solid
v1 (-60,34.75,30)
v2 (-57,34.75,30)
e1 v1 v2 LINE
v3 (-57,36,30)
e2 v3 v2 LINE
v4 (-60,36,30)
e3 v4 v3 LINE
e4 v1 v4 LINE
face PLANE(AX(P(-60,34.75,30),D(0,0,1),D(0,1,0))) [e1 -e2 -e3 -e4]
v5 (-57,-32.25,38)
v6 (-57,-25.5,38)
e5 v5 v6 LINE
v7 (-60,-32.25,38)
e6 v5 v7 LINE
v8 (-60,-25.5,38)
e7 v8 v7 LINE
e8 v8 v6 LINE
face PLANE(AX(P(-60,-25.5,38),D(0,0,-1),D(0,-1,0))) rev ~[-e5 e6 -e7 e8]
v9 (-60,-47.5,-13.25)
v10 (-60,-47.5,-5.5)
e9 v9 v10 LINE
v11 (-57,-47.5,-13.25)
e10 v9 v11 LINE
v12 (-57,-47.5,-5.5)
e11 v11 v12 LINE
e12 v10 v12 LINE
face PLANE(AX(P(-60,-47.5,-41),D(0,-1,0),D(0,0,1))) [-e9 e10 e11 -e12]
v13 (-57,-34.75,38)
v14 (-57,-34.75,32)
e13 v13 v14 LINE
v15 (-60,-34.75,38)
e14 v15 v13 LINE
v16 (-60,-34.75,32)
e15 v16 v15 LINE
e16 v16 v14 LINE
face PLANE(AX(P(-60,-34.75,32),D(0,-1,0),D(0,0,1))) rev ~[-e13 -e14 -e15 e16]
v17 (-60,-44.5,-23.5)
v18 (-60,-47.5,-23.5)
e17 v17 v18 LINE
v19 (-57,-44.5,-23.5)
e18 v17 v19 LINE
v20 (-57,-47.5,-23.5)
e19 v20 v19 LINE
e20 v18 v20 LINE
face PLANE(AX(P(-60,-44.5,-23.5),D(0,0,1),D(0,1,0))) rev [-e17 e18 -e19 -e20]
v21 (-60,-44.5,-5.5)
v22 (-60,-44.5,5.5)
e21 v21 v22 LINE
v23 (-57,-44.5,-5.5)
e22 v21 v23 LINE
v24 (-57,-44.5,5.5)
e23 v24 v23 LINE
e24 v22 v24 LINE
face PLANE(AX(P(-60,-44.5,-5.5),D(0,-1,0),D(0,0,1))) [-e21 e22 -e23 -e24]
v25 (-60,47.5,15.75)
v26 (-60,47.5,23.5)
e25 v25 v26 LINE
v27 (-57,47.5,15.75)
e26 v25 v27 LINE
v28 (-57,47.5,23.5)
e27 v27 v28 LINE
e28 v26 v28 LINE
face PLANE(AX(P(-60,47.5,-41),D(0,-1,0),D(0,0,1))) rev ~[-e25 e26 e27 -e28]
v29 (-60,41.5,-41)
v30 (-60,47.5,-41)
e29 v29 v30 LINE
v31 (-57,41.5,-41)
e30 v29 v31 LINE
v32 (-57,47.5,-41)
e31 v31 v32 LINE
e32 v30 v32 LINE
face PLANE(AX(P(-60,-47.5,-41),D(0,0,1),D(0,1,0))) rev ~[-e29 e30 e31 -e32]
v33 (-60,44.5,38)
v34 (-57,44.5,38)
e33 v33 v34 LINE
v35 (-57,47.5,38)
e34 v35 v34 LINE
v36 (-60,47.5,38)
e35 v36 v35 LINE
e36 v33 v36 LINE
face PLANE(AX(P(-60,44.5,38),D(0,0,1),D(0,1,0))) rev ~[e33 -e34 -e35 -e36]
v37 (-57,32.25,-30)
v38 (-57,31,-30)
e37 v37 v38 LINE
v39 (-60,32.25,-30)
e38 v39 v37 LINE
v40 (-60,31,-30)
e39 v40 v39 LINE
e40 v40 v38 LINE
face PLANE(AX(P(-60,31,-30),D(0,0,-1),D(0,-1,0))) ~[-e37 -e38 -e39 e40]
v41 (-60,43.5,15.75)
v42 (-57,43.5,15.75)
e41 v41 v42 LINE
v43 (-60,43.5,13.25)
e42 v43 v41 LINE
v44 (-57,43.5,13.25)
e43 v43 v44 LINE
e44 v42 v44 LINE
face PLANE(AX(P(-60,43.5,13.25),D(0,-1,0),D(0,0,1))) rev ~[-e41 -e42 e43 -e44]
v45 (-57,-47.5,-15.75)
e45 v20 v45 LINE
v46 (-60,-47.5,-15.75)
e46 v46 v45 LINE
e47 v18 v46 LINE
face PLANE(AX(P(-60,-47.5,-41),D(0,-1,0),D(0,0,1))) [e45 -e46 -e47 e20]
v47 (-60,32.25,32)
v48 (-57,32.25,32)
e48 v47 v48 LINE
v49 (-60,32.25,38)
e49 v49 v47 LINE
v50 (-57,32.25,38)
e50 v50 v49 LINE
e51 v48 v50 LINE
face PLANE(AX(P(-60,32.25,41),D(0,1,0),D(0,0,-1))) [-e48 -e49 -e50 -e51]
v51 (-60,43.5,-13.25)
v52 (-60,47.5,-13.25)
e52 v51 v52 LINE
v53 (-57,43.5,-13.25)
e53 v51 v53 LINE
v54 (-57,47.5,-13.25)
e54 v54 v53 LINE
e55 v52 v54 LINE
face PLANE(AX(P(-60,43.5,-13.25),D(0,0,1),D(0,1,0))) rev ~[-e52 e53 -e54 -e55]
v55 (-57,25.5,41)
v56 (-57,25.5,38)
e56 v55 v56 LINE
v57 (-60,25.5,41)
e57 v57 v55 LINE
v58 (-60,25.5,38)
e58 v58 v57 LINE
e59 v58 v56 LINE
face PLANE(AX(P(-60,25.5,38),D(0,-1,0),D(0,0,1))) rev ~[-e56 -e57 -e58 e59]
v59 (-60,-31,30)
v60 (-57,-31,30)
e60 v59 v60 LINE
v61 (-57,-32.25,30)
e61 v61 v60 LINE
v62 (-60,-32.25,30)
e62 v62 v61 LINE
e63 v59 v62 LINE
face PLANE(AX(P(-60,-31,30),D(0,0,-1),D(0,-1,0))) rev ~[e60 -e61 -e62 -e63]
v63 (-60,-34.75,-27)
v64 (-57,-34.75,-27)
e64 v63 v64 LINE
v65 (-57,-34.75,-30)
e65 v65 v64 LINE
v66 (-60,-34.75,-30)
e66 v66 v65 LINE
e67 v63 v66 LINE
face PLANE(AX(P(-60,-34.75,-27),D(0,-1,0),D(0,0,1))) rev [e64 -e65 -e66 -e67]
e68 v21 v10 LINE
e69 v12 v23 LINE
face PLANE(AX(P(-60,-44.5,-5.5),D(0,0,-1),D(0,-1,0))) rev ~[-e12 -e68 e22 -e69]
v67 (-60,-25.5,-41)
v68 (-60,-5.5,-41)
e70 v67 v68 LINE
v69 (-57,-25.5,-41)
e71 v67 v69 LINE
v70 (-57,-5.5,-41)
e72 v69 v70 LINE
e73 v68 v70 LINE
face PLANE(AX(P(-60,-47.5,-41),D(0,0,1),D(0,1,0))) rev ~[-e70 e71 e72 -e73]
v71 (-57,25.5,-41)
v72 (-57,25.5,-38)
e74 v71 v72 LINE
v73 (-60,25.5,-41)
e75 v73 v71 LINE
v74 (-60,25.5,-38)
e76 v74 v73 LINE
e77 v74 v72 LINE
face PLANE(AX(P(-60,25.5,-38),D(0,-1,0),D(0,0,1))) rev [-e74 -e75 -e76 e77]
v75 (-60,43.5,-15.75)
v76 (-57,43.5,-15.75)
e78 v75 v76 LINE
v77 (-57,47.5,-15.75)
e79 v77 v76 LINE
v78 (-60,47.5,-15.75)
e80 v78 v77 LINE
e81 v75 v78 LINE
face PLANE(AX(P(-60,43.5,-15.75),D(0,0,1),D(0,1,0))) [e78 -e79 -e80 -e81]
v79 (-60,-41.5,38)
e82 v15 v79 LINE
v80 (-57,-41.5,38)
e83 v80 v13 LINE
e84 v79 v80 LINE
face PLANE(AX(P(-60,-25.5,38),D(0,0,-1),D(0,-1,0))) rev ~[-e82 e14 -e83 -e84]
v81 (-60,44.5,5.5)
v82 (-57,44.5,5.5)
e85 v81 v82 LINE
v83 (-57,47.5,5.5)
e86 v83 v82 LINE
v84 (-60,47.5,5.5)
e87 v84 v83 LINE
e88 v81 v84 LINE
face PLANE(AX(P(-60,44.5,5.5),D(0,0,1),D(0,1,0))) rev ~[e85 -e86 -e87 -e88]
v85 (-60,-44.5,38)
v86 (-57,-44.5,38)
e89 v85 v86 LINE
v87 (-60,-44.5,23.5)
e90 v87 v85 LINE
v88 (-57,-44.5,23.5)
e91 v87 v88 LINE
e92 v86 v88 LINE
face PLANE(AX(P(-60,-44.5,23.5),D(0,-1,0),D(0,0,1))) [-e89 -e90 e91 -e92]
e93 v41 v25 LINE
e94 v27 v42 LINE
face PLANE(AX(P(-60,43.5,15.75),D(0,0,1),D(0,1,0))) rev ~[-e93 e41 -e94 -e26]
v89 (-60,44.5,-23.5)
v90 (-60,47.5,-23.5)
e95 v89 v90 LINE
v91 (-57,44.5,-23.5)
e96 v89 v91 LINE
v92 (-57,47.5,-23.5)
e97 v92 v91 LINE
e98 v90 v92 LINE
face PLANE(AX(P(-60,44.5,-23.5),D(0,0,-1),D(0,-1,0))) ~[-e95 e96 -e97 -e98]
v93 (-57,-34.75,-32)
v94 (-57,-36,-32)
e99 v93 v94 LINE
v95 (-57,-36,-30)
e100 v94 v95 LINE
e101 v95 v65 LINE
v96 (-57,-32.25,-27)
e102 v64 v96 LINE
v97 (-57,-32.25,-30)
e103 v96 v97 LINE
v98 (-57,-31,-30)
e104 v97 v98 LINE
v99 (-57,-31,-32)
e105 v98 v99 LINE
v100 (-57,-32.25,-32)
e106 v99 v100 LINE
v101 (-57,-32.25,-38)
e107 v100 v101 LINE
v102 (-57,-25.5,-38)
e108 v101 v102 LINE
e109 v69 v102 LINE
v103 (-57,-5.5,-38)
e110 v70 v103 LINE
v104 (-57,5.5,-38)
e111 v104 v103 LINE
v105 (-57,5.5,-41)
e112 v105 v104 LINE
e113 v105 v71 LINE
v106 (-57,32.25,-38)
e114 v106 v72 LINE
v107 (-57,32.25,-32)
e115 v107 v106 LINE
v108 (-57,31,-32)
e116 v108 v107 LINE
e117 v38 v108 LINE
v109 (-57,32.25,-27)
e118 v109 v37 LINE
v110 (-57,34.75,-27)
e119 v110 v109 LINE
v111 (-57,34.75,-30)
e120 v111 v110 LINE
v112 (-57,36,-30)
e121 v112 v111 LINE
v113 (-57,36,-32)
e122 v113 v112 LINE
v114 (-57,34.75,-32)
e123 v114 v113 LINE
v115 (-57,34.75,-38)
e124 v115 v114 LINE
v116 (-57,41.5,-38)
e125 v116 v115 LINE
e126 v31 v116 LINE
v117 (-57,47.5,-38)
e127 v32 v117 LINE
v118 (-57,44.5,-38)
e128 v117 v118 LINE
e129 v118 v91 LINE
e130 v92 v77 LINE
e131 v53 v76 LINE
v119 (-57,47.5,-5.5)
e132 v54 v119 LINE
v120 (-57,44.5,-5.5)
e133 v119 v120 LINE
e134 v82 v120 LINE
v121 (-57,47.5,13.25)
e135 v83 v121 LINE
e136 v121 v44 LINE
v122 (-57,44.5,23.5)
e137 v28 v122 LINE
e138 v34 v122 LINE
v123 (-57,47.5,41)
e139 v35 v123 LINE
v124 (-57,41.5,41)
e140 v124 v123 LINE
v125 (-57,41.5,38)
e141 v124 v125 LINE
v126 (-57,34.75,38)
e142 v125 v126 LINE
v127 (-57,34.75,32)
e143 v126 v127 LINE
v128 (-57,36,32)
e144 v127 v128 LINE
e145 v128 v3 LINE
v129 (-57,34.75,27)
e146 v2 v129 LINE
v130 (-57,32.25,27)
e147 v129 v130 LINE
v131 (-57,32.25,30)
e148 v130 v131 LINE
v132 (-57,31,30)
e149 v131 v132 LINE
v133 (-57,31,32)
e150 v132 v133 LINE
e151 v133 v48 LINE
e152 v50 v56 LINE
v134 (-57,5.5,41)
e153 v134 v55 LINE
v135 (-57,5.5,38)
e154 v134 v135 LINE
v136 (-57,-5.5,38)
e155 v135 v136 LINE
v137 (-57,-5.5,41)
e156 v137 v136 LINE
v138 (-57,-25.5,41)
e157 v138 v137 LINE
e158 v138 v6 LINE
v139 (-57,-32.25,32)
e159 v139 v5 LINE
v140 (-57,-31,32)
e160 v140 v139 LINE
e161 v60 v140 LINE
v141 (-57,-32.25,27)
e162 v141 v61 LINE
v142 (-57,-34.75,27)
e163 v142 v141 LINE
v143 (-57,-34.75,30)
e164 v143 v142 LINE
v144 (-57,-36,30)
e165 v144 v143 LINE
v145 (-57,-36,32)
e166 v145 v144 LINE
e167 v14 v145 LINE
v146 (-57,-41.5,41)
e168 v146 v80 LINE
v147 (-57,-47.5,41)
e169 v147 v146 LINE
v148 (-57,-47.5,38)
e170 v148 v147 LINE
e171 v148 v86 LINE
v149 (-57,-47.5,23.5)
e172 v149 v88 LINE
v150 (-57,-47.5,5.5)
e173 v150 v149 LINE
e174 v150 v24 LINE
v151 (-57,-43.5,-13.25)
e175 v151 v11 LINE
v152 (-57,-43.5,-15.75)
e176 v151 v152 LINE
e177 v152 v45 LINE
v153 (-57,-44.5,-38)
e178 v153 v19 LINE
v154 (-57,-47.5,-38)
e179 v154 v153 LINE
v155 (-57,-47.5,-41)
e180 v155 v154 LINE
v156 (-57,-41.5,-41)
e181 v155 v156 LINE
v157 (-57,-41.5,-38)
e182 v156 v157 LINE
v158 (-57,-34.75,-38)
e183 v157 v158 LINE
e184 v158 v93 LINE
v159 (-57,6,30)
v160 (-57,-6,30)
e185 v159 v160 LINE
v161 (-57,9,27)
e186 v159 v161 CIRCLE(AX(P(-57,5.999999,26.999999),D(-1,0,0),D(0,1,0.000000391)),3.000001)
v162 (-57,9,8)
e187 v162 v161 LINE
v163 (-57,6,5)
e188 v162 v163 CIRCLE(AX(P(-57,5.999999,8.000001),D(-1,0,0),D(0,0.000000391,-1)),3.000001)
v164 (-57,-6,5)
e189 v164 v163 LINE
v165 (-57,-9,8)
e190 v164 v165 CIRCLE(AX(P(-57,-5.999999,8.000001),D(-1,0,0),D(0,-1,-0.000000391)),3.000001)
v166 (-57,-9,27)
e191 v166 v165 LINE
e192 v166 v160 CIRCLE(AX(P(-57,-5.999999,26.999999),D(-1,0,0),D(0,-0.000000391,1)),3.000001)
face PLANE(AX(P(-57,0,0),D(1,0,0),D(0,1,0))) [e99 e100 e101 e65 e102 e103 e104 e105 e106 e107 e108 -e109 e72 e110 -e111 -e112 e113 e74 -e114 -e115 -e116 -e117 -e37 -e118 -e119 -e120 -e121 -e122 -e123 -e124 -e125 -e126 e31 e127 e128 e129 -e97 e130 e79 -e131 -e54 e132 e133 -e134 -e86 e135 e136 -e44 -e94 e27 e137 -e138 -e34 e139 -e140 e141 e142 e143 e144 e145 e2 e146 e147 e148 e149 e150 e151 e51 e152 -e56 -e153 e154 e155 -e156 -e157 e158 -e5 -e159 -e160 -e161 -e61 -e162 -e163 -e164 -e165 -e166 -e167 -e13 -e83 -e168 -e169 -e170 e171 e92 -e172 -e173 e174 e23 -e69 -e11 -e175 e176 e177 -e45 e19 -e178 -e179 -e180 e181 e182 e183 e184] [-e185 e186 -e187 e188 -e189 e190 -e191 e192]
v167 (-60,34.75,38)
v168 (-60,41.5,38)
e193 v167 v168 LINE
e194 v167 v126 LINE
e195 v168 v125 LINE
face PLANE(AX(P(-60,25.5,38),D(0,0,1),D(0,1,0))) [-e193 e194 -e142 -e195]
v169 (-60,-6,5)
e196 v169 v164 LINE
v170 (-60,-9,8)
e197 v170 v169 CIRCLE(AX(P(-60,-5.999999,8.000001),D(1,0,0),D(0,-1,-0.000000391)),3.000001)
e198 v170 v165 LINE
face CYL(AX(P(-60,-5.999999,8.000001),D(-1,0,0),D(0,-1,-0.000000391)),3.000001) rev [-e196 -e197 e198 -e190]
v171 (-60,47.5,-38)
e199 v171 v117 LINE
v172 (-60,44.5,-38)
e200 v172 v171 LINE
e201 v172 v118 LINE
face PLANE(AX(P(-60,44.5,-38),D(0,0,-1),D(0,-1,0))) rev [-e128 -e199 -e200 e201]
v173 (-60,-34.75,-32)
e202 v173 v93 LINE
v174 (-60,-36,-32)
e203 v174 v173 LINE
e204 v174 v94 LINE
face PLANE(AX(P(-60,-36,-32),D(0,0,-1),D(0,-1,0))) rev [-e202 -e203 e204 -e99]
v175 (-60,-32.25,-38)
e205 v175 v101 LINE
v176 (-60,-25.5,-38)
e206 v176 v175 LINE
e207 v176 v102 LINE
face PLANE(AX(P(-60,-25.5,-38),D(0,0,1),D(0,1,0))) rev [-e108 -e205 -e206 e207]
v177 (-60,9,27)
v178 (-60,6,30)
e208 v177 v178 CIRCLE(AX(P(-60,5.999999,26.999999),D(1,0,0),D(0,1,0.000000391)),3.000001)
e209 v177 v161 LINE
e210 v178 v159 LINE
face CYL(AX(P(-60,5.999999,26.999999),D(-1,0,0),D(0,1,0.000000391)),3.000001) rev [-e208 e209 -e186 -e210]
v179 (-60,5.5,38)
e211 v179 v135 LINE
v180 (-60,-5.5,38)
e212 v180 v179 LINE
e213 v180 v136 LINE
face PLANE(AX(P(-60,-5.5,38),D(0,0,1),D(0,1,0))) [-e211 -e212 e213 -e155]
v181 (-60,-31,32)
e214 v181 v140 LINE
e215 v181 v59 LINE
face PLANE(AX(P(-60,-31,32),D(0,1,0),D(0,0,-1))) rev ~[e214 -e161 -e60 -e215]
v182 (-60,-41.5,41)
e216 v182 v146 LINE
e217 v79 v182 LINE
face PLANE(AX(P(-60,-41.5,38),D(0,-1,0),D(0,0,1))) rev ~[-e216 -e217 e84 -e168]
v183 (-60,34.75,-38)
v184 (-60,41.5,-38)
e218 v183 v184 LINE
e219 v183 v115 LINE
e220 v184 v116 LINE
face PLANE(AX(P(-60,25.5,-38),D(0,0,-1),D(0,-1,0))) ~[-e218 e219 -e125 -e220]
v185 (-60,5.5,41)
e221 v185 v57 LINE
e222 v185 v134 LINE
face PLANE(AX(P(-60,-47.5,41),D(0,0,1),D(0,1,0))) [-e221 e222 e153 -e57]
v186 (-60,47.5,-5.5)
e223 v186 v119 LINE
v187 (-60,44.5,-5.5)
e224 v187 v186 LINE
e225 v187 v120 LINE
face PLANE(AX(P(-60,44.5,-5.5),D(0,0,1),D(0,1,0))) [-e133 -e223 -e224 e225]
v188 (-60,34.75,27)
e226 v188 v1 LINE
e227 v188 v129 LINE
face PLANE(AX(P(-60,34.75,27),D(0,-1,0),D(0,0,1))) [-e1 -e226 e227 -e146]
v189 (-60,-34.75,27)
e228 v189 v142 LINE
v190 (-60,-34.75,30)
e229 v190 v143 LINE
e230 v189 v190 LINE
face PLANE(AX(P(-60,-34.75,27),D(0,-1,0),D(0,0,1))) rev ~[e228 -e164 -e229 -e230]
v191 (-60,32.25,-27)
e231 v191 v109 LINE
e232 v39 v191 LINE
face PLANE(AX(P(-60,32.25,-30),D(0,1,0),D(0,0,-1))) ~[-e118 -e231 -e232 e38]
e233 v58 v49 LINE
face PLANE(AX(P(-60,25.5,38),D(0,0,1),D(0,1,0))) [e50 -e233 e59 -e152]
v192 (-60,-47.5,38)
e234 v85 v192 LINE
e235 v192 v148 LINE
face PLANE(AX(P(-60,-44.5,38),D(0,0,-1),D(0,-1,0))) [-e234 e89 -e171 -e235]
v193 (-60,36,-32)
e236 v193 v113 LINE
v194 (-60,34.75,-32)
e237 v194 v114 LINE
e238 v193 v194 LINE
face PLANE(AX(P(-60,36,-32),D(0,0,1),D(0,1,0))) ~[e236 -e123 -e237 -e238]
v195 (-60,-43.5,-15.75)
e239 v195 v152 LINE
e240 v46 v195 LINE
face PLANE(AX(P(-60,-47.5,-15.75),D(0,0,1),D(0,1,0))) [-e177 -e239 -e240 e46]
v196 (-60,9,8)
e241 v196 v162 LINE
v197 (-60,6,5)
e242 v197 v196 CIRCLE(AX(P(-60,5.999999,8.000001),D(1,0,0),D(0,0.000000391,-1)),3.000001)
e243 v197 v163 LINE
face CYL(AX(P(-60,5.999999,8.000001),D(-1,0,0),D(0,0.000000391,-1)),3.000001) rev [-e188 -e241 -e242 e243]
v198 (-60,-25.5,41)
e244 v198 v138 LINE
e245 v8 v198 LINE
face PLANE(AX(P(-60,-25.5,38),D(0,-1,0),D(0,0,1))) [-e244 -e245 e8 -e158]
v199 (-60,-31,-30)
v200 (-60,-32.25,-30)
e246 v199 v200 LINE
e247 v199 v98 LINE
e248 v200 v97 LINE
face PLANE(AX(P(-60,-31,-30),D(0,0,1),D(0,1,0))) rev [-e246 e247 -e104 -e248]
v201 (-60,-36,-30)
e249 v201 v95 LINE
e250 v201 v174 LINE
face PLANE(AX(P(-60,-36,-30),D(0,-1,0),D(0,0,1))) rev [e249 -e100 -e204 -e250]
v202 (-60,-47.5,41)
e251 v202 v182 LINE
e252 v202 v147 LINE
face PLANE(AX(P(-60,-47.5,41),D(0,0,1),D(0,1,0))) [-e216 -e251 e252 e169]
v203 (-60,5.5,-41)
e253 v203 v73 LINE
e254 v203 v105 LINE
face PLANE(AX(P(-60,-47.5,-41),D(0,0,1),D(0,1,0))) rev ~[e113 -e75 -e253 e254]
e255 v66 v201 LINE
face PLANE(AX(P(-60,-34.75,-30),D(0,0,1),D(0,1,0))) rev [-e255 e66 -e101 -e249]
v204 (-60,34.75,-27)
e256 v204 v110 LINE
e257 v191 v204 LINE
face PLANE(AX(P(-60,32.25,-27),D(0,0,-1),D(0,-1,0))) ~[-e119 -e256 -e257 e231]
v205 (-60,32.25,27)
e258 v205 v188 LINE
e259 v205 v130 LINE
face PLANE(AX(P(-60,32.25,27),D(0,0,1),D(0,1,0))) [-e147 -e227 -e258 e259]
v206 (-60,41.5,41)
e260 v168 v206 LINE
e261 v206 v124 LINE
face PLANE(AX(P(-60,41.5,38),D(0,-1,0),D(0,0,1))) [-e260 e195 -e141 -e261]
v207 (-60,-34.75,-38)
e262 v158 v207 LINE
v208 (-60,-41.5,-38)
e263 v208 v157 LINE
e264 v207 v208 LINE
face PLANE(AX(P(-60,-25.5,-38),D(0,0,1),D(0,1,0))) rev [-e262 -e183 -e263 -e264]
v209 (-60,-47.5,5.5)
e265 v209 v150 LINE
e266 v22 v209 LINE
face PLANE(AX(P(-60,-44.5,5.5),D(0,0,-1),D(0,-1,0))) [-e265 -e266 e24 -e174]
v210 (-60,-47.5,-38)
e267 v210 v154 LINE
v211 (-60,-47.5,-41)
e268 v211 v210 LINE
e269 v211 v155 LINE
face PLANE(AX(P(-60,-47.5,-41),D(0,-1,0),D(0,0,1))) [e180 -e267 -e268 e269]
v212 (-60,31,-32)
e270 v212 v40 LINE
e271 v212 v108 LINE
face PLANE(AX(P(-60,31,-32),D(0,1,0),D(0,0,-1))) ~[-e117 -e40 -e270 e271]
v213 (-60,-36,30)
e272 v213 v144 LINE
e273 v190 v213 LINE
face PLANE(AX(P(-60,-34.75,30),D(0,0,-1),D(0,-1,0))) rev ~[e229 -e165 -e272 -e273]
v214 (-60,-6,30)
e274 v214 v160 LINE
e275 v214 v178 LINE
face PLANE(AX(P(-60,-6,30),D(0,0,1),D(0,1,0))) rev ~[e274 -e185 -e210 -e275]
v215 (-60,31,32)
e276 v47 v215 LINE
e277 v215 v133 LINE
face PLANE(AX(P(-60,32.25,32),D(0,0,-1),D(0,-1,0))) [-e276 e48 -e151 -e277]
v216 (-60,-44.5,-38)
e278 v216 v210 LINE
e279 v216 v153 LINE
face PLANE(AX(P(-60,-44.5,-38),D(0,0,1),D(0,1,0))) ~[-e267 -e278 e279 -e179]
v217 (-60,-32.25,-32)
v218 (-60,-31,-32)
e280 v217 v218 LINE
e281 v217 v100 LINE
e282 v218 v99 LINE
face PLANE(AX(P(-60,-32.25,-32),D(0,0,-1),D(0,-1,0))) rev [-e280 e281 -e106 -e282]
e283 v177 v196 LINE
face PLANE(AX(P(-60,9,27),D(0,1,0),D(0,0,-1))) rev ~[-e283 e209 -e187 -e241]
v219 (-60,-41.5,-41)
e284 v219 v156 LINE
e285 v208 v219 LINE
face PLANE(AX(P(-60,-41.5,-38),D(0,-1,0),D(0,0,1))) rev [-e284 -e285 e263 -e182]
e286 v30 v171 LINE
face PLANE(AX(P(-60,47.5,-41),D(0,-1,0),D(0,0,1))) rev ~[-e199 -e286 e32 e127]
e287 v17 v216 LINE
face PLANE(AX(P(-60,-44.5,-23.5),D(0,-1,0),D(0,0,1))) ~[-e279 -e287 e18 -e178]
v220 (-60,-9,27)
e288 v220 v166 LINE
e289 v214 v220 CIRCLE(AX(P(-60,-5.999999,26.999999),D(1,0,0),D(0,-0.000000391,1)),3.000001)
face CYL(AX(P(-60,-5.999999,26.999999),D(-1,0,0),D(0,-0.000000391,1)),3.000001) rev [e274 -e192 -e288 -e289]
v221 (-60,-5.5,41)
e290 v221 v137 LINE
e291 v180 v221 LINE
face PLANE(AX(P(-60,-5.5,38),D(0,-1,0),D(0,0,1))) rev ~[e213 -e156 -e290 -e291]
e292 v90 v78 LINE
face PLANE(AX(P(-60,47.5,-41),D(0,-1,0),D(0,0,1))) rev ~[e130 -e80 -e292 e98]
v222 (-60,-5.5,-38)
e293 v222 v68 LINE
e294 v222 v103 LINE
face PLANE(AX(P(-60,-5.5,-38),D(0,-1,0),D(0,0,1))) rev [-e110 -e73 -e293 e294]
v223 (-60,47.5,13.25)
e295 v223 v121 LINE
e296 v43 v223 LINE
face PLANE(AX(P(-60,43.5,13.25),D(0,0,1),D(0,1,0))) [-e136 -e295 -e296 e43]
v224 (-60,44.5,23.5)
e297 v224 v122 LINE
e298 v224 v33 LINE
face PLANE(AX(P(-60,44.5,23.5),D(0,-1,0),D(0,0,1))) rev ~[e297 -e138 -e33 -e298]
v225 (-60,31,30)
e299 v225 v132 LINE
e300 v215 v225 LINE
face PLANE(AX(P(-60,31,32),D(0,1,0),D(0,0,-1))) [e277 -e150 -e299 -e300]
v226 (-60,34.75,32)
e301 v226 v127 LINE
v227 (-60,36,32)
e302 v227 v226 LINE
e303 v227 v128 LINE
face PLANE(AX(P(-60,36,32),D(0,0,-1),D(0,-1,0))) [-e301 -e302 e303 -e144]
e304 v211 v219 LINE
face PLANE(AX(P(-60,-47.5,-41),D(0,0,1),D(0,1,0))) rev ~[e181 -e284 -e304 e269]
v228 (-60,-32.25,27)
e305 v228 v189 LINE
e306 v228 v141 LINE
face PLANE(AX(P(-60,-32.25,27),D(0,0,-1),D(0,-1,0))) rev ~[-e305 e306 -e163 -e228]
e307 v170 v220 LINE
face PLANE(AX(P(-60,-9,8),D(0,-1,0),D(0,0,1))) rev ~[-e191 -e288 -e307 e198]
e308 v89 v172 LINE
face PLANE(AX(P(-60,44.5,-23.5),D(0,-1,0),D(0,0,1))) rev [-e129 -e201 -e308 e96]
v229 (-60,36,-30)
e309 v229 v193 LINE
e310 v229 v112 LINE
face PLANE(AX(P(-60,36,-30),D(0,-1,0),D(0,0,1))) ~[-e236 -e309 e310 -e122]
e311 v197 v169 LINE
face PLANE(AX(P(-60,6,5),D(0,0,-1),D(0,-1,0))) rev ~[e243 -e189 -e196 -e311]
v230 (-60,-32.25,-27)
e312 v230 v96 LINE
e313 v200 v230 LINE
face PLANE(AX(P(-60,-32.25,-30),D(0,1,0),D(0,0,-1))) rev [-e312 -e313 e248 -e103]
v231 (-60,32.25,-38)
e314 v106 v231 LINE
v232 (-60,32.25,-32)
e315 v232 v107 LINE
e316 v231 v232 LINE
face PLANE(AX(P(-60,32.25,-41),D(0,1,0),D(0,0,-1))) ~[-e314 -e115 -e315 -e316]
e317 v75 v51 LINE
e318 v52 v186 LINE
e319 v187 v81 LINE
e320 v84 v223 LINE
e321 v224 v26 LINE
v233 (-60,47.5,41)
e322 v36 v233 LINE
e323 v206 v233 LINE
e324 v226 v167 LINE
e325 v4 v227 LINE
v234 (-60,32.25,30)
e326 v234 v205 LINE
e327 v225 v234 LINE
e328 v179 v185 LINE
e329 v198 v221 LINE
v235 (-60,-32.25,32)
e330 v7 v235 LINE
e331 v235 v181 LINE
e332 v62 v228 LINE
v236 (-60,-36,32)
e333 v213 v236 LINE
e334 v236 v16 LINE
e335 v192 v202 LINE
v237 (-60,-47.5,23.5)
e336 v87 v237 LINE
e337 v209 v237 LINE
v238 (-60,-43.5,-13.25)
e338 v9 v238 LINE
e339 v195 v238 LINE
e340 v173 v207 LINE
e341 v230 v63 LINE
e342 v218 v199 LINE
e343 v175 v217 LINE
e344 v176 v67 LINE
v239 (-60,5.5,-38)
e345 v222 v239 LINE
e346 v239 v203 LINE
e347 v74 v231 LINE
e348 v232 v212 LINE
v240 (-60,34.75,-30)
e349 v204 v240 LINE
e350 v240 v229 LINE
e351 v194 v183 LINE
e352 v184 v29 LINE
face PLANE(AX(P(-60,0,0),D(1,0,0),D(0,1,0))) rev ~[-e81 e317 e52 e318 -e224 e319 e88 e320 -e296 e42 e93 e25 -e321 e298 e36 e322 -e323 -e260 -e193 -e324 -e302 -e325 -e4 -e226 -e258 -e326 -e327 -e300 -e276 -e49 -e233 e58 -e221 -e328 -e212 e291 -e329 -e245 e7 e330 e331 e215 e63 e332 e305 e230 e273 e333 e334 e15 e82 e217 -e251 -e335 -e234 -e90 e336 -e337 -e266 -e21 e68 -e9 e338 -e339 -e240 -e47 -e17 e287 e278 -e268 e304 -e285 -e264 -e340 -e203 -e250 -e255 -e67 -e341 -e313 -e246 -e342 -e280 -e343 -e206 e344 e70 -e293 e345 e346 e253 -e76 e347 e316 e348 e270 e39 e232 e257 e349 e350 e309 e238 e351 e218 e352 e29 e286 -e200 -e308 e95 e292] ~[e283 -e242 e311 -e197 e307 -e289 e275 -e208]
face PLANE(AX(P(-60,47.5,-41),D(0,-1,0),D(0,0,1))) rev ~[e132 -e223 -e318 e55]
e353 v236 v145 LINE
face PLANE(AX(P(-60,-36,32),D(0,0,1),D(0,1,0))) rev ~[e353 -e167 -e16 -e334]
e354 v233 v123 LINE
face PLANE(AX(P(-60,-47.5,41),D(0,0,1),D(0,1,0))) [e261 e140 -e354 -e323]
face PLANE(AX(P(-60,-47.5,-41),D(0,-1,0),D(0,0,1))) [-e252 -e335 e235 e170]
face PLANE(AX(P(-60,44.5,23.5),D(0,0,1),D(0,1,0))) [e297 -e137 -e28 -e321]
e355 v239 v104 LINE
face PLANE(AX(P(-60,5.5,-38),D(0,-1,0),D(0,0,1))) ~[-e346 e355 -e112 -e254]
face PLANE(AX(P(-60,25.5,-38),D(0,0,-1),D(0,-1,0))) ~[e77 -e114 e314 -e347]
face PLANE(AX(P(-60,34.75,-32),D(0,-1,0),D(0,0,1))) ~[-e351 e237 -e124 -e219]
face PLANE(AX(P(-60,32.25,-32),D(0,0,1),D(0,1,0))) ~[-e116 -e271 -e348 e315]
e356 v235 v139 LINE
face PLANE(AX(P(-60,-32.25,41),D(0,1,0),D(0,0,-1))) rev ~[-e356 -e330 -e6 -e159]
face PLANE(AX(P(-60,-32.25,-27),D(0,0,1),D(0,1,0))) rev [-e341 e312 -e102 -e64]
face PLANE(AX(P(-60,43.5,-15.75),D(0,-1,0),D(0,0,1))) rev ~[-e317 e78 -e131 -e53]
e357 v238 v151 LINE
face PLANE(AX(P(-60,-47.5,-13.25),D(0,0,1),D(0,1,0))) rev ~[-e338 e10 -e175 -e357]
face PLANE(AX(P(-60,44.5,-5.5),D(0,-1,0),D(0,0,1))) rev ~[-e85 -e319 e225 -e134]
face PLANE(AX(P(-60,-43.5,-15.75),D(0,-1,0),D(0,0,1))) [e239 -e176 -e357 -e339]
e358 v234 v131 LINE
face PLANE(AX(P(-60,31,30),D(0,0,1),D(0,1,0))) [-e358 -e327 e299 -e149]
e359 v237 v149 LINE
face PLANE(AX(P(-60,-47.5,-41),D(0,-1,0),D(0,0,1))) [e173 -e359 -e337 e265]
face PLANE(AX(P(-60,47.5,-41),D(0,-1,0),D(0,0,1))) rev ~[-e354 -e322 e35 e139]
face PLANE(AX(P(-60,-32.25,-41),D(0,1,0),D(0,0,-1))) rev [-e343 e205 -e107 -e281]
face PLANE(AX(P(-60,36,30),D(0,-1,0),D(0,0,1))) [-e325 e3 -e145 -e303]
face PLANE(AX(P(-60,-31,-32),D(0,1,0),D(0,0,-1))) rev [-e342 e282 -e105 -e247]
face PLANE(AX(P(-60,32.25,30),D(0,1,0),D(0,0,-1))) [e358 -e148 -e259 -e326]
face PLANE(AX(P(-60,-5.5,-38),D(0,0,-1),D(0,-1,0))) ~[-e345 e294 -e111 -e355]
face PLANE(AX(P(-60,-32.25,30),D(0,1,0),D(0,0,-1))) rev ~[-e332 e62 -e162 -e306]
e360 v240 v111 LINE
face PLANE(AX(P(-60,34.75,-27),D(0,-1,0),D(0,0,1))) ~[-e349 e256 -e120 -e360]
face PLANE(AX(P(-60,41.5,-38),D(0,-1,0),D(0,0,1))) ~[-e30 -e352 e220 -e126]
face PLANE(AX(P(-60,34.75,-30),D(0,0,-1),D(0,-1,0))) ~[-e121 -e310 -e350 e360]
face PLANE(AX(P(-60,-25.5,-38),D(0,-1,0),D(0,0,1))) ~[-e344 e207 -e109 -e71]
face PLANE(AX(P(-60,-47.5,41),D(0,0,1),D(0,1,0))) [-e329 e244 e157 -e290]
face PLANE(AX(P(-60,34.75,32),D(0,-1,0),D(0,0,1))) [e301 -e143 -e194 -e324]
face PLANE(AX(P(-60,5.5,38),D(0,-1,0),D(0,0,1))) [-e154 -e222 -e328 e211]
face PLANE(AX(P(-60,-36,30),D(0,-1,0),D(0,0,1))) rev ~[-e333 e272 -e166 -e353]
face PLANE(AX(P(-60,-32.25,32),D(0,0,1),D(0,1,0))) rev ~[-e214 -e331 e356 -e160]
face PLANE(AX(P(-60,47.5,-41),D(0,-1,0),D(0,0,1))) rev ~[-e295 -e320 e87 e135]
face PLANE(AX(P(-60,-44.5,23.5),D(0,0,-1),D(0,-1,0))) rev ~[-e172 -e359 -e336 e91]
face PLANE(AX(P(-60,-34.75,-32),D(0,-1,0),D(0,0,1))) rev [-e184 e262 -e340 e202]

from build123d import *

# Parameters (mm, degrees)
SKETCH024_W                   = 95
SKETCH024_H                   = 82
PAD006_DEPTH                  = 3
SKETCH025_W                   = 11
SKETCH025_H                   = 3
SKETCH025_W_2                 = 16
SKETCH025_W_3                 = 3
SKETCH025_H_2                 = 11
SKETCH025_H_3                 = 14.5
POCKET018_DEPTH               = 254.062745
POCKET019_DEPTH               = 254.062745
POCKET019_MIRRORED022_2_DEPTH = 254.062745
POCKET020_DEPTH               = 3.001
SKETCH025_MIRRORED024_2_W     = 11
SKETCH025_MIRRORED024_2_H     = 3
SKETCH025_MIRRORED024_2_W_2   = 16
SKETCH025_MIRRORED024_2_W_3   = 3
SKETCH025_MIRRORED024_2_H_2   = 11
SKETCH025_MIRRORED024_2_H_3   = 14.5
POCKET018_MIRRORED024_2_DEPTH = 254.062745
SKETCH028_W                   = 4
SKETCH028_H                   = 2.5
POCKET021_DEPTH               = 3.001


with BuildPart() as part:
    # Sketch024 → Pad006 (new body)
    with BuildSketch(Plane.YZ):
        Rectangle(SKETCH024_W, SKETCH024_H)
    extrude(amount=PAD006_DEPTH)

    # Sketch025 → Pocket018 (cut, through all)
    with BuildSketch(Plane.YZ):
        with Locations((0, 39.5)):
            Rectangle(SKETCH025_W, SKETCH025_H)
        with Locations((33.5, 39.5)):
            Rectangle(SKETCH025_W_2, SKETCH025_H)
        with Locations((46, 0)):
            Rectangle(SKETCH025_W_3, SKETCH025_H_2)
        with Locations((46, 30.75)):
            Rectangle(SKETCH025_W_3, SKETCH025_H_3)
    pocket018 = extrude(amount=POCKET018_DEPTH, mode=Mode.SUBTRACT)

    # Sketch026 → Pocket019 (cut, through all)
    with BuildSketch(Plane.YZ):
        Polygon((-32.25, 41), (-32.25, 32), (-31, 32), (-31, 30), (-32.25, 30), (-32.25, 27), (-34.75, 27), (-34.75, 30), (-36, 30), (-36, 32), (-34.75, 32), (-34.75, 41), align=None)
    pocket019 = extrude(amount=POCKET019_DEPTH, mode=Mode.SUBTRACT)

    # Sketch026 Mirrored022 2 → Pocket019 Mirrored022 2 (cut, through all)
    with BuildSketch(Plane(origin=(0, 0, 0), x_dir=(0, -1, 0), z_dir=(-1, 0, 0))):
        Polygon((-32.25, 41), (-32.25, 32), (-31, 32), (-31, 30), (-32.25, 30), (-32.25, 27), (-34.75, 27), (-34.75, 30), (-36, 30), (-36, 32), (-34.75, 32), (-34.75, 41), align=None)
    pocket019_mirrored022_2 = extrude(amount=-POCKET019_MIRRORED022_2_DEPTH, mode=Mode.SUBTRACT)

    # Mirrored023: Pocket019, Pocket019 Mirrored022 2 across Sketch026 H_Axis
    add(pocket019.mirror(Plane.XY), mode=Mode.SUBTRACT)
    add(pocket019_mirrored022_2.mirror(Plane.XY), mode=Mode.SUBTRACT)

    # Sketch027 → Pocket020 (cut, through all)
    with BuildSketch(Plane.YZ):
        with BuildLine():
            Line((-6, 30), (6, 30))
            ThreePointArc((9, 27), (8.12132, 29.12132), (6, 30))
            Line((9, 27), (9, 8))
            ThreePointArc((6, 5), (8.12132, 5.87868), (9, 8))
            Line((6, 5), (-6, 5))
            ThreePointArc((-9, 8), (-8.12132, 5.87868), (-6, 5))
            Line((-9, 8), (-9, 27))
            ThreePointArc((-6, 30), (-8.12132, 29.12132), (-9, 27))
        make_face()
    extrude(amount=POCKET020_DEPTH, mode=Mode.SUBTRACT)

    # Sketch025 Mirrored024 2 → Pocket018 Mirrored024 2 (cut, through all)
    with BuildSketch(Plane(origin=(0, 0, 0), x_dir=(0, -1, 0), z_dir=(-1, 0, 0))):
        with Locations((0, 39.5)):
            Rectangle(SKETCH025_MIRRORED024_2_W, SKETCH025_MIRRORED024_2_H)
        with Locations((33.5, 39.5)):
            Rectangle(SKETCH025_MIRRORED024_2_W_2, SKETCH025_MIRRORED024_2_H)
        with Locations((46, 0)):
            Rectangle(SKETCH025_MIRRORED024_2_W_3, SKETCH025_MIRRORED024_2_H_2)
        with Locations((46, 30.75)):
            Rectangle(SKETCH025_MIRRORED024_2_W_3, SKETCH025_MIRRORED024_2_H_3)
    pocket018_mirrored024_2 = extrude(amount=-POCKET018_MIRRORED024_2_DEPTH, mode=Mode.SUBTRACT)

    # Mirrored025: Pocket018, Pocket018 Mirrored024 2 across Sketch025 H_Axis
    add(pocket018.mirror(Plane.XY), mode=Mode.SUBTRACT)
    add(pocket018_mirrored024_2.mirror(Plane.XY), mode=Mode.SUBTRACT)

    # Sketch028 → Pocket021 (cut, through all)
    with BuildSketch(Plane.YZ):
        with Locations((-45.5, -14.5)):
            Rectangle(SKETCH028_W, SKETCH028_H)
        with Locations((45.5, -14.5)):
            Rectangle(SKETCH028_W, SKETCH028_H)
        with Locations((45.5, 14.5)):
            Rectangle(SKETCH028_W, SKETCH028_H)
    extrude(amount=POCKET021_DEPTH, mode=Mode.SUBTRACT)


with BuildPart() as part_1:
    # Body006 placement: moved
    add(part.part.moved(Location((-60, 0, 0))))


solid = part_1.part
